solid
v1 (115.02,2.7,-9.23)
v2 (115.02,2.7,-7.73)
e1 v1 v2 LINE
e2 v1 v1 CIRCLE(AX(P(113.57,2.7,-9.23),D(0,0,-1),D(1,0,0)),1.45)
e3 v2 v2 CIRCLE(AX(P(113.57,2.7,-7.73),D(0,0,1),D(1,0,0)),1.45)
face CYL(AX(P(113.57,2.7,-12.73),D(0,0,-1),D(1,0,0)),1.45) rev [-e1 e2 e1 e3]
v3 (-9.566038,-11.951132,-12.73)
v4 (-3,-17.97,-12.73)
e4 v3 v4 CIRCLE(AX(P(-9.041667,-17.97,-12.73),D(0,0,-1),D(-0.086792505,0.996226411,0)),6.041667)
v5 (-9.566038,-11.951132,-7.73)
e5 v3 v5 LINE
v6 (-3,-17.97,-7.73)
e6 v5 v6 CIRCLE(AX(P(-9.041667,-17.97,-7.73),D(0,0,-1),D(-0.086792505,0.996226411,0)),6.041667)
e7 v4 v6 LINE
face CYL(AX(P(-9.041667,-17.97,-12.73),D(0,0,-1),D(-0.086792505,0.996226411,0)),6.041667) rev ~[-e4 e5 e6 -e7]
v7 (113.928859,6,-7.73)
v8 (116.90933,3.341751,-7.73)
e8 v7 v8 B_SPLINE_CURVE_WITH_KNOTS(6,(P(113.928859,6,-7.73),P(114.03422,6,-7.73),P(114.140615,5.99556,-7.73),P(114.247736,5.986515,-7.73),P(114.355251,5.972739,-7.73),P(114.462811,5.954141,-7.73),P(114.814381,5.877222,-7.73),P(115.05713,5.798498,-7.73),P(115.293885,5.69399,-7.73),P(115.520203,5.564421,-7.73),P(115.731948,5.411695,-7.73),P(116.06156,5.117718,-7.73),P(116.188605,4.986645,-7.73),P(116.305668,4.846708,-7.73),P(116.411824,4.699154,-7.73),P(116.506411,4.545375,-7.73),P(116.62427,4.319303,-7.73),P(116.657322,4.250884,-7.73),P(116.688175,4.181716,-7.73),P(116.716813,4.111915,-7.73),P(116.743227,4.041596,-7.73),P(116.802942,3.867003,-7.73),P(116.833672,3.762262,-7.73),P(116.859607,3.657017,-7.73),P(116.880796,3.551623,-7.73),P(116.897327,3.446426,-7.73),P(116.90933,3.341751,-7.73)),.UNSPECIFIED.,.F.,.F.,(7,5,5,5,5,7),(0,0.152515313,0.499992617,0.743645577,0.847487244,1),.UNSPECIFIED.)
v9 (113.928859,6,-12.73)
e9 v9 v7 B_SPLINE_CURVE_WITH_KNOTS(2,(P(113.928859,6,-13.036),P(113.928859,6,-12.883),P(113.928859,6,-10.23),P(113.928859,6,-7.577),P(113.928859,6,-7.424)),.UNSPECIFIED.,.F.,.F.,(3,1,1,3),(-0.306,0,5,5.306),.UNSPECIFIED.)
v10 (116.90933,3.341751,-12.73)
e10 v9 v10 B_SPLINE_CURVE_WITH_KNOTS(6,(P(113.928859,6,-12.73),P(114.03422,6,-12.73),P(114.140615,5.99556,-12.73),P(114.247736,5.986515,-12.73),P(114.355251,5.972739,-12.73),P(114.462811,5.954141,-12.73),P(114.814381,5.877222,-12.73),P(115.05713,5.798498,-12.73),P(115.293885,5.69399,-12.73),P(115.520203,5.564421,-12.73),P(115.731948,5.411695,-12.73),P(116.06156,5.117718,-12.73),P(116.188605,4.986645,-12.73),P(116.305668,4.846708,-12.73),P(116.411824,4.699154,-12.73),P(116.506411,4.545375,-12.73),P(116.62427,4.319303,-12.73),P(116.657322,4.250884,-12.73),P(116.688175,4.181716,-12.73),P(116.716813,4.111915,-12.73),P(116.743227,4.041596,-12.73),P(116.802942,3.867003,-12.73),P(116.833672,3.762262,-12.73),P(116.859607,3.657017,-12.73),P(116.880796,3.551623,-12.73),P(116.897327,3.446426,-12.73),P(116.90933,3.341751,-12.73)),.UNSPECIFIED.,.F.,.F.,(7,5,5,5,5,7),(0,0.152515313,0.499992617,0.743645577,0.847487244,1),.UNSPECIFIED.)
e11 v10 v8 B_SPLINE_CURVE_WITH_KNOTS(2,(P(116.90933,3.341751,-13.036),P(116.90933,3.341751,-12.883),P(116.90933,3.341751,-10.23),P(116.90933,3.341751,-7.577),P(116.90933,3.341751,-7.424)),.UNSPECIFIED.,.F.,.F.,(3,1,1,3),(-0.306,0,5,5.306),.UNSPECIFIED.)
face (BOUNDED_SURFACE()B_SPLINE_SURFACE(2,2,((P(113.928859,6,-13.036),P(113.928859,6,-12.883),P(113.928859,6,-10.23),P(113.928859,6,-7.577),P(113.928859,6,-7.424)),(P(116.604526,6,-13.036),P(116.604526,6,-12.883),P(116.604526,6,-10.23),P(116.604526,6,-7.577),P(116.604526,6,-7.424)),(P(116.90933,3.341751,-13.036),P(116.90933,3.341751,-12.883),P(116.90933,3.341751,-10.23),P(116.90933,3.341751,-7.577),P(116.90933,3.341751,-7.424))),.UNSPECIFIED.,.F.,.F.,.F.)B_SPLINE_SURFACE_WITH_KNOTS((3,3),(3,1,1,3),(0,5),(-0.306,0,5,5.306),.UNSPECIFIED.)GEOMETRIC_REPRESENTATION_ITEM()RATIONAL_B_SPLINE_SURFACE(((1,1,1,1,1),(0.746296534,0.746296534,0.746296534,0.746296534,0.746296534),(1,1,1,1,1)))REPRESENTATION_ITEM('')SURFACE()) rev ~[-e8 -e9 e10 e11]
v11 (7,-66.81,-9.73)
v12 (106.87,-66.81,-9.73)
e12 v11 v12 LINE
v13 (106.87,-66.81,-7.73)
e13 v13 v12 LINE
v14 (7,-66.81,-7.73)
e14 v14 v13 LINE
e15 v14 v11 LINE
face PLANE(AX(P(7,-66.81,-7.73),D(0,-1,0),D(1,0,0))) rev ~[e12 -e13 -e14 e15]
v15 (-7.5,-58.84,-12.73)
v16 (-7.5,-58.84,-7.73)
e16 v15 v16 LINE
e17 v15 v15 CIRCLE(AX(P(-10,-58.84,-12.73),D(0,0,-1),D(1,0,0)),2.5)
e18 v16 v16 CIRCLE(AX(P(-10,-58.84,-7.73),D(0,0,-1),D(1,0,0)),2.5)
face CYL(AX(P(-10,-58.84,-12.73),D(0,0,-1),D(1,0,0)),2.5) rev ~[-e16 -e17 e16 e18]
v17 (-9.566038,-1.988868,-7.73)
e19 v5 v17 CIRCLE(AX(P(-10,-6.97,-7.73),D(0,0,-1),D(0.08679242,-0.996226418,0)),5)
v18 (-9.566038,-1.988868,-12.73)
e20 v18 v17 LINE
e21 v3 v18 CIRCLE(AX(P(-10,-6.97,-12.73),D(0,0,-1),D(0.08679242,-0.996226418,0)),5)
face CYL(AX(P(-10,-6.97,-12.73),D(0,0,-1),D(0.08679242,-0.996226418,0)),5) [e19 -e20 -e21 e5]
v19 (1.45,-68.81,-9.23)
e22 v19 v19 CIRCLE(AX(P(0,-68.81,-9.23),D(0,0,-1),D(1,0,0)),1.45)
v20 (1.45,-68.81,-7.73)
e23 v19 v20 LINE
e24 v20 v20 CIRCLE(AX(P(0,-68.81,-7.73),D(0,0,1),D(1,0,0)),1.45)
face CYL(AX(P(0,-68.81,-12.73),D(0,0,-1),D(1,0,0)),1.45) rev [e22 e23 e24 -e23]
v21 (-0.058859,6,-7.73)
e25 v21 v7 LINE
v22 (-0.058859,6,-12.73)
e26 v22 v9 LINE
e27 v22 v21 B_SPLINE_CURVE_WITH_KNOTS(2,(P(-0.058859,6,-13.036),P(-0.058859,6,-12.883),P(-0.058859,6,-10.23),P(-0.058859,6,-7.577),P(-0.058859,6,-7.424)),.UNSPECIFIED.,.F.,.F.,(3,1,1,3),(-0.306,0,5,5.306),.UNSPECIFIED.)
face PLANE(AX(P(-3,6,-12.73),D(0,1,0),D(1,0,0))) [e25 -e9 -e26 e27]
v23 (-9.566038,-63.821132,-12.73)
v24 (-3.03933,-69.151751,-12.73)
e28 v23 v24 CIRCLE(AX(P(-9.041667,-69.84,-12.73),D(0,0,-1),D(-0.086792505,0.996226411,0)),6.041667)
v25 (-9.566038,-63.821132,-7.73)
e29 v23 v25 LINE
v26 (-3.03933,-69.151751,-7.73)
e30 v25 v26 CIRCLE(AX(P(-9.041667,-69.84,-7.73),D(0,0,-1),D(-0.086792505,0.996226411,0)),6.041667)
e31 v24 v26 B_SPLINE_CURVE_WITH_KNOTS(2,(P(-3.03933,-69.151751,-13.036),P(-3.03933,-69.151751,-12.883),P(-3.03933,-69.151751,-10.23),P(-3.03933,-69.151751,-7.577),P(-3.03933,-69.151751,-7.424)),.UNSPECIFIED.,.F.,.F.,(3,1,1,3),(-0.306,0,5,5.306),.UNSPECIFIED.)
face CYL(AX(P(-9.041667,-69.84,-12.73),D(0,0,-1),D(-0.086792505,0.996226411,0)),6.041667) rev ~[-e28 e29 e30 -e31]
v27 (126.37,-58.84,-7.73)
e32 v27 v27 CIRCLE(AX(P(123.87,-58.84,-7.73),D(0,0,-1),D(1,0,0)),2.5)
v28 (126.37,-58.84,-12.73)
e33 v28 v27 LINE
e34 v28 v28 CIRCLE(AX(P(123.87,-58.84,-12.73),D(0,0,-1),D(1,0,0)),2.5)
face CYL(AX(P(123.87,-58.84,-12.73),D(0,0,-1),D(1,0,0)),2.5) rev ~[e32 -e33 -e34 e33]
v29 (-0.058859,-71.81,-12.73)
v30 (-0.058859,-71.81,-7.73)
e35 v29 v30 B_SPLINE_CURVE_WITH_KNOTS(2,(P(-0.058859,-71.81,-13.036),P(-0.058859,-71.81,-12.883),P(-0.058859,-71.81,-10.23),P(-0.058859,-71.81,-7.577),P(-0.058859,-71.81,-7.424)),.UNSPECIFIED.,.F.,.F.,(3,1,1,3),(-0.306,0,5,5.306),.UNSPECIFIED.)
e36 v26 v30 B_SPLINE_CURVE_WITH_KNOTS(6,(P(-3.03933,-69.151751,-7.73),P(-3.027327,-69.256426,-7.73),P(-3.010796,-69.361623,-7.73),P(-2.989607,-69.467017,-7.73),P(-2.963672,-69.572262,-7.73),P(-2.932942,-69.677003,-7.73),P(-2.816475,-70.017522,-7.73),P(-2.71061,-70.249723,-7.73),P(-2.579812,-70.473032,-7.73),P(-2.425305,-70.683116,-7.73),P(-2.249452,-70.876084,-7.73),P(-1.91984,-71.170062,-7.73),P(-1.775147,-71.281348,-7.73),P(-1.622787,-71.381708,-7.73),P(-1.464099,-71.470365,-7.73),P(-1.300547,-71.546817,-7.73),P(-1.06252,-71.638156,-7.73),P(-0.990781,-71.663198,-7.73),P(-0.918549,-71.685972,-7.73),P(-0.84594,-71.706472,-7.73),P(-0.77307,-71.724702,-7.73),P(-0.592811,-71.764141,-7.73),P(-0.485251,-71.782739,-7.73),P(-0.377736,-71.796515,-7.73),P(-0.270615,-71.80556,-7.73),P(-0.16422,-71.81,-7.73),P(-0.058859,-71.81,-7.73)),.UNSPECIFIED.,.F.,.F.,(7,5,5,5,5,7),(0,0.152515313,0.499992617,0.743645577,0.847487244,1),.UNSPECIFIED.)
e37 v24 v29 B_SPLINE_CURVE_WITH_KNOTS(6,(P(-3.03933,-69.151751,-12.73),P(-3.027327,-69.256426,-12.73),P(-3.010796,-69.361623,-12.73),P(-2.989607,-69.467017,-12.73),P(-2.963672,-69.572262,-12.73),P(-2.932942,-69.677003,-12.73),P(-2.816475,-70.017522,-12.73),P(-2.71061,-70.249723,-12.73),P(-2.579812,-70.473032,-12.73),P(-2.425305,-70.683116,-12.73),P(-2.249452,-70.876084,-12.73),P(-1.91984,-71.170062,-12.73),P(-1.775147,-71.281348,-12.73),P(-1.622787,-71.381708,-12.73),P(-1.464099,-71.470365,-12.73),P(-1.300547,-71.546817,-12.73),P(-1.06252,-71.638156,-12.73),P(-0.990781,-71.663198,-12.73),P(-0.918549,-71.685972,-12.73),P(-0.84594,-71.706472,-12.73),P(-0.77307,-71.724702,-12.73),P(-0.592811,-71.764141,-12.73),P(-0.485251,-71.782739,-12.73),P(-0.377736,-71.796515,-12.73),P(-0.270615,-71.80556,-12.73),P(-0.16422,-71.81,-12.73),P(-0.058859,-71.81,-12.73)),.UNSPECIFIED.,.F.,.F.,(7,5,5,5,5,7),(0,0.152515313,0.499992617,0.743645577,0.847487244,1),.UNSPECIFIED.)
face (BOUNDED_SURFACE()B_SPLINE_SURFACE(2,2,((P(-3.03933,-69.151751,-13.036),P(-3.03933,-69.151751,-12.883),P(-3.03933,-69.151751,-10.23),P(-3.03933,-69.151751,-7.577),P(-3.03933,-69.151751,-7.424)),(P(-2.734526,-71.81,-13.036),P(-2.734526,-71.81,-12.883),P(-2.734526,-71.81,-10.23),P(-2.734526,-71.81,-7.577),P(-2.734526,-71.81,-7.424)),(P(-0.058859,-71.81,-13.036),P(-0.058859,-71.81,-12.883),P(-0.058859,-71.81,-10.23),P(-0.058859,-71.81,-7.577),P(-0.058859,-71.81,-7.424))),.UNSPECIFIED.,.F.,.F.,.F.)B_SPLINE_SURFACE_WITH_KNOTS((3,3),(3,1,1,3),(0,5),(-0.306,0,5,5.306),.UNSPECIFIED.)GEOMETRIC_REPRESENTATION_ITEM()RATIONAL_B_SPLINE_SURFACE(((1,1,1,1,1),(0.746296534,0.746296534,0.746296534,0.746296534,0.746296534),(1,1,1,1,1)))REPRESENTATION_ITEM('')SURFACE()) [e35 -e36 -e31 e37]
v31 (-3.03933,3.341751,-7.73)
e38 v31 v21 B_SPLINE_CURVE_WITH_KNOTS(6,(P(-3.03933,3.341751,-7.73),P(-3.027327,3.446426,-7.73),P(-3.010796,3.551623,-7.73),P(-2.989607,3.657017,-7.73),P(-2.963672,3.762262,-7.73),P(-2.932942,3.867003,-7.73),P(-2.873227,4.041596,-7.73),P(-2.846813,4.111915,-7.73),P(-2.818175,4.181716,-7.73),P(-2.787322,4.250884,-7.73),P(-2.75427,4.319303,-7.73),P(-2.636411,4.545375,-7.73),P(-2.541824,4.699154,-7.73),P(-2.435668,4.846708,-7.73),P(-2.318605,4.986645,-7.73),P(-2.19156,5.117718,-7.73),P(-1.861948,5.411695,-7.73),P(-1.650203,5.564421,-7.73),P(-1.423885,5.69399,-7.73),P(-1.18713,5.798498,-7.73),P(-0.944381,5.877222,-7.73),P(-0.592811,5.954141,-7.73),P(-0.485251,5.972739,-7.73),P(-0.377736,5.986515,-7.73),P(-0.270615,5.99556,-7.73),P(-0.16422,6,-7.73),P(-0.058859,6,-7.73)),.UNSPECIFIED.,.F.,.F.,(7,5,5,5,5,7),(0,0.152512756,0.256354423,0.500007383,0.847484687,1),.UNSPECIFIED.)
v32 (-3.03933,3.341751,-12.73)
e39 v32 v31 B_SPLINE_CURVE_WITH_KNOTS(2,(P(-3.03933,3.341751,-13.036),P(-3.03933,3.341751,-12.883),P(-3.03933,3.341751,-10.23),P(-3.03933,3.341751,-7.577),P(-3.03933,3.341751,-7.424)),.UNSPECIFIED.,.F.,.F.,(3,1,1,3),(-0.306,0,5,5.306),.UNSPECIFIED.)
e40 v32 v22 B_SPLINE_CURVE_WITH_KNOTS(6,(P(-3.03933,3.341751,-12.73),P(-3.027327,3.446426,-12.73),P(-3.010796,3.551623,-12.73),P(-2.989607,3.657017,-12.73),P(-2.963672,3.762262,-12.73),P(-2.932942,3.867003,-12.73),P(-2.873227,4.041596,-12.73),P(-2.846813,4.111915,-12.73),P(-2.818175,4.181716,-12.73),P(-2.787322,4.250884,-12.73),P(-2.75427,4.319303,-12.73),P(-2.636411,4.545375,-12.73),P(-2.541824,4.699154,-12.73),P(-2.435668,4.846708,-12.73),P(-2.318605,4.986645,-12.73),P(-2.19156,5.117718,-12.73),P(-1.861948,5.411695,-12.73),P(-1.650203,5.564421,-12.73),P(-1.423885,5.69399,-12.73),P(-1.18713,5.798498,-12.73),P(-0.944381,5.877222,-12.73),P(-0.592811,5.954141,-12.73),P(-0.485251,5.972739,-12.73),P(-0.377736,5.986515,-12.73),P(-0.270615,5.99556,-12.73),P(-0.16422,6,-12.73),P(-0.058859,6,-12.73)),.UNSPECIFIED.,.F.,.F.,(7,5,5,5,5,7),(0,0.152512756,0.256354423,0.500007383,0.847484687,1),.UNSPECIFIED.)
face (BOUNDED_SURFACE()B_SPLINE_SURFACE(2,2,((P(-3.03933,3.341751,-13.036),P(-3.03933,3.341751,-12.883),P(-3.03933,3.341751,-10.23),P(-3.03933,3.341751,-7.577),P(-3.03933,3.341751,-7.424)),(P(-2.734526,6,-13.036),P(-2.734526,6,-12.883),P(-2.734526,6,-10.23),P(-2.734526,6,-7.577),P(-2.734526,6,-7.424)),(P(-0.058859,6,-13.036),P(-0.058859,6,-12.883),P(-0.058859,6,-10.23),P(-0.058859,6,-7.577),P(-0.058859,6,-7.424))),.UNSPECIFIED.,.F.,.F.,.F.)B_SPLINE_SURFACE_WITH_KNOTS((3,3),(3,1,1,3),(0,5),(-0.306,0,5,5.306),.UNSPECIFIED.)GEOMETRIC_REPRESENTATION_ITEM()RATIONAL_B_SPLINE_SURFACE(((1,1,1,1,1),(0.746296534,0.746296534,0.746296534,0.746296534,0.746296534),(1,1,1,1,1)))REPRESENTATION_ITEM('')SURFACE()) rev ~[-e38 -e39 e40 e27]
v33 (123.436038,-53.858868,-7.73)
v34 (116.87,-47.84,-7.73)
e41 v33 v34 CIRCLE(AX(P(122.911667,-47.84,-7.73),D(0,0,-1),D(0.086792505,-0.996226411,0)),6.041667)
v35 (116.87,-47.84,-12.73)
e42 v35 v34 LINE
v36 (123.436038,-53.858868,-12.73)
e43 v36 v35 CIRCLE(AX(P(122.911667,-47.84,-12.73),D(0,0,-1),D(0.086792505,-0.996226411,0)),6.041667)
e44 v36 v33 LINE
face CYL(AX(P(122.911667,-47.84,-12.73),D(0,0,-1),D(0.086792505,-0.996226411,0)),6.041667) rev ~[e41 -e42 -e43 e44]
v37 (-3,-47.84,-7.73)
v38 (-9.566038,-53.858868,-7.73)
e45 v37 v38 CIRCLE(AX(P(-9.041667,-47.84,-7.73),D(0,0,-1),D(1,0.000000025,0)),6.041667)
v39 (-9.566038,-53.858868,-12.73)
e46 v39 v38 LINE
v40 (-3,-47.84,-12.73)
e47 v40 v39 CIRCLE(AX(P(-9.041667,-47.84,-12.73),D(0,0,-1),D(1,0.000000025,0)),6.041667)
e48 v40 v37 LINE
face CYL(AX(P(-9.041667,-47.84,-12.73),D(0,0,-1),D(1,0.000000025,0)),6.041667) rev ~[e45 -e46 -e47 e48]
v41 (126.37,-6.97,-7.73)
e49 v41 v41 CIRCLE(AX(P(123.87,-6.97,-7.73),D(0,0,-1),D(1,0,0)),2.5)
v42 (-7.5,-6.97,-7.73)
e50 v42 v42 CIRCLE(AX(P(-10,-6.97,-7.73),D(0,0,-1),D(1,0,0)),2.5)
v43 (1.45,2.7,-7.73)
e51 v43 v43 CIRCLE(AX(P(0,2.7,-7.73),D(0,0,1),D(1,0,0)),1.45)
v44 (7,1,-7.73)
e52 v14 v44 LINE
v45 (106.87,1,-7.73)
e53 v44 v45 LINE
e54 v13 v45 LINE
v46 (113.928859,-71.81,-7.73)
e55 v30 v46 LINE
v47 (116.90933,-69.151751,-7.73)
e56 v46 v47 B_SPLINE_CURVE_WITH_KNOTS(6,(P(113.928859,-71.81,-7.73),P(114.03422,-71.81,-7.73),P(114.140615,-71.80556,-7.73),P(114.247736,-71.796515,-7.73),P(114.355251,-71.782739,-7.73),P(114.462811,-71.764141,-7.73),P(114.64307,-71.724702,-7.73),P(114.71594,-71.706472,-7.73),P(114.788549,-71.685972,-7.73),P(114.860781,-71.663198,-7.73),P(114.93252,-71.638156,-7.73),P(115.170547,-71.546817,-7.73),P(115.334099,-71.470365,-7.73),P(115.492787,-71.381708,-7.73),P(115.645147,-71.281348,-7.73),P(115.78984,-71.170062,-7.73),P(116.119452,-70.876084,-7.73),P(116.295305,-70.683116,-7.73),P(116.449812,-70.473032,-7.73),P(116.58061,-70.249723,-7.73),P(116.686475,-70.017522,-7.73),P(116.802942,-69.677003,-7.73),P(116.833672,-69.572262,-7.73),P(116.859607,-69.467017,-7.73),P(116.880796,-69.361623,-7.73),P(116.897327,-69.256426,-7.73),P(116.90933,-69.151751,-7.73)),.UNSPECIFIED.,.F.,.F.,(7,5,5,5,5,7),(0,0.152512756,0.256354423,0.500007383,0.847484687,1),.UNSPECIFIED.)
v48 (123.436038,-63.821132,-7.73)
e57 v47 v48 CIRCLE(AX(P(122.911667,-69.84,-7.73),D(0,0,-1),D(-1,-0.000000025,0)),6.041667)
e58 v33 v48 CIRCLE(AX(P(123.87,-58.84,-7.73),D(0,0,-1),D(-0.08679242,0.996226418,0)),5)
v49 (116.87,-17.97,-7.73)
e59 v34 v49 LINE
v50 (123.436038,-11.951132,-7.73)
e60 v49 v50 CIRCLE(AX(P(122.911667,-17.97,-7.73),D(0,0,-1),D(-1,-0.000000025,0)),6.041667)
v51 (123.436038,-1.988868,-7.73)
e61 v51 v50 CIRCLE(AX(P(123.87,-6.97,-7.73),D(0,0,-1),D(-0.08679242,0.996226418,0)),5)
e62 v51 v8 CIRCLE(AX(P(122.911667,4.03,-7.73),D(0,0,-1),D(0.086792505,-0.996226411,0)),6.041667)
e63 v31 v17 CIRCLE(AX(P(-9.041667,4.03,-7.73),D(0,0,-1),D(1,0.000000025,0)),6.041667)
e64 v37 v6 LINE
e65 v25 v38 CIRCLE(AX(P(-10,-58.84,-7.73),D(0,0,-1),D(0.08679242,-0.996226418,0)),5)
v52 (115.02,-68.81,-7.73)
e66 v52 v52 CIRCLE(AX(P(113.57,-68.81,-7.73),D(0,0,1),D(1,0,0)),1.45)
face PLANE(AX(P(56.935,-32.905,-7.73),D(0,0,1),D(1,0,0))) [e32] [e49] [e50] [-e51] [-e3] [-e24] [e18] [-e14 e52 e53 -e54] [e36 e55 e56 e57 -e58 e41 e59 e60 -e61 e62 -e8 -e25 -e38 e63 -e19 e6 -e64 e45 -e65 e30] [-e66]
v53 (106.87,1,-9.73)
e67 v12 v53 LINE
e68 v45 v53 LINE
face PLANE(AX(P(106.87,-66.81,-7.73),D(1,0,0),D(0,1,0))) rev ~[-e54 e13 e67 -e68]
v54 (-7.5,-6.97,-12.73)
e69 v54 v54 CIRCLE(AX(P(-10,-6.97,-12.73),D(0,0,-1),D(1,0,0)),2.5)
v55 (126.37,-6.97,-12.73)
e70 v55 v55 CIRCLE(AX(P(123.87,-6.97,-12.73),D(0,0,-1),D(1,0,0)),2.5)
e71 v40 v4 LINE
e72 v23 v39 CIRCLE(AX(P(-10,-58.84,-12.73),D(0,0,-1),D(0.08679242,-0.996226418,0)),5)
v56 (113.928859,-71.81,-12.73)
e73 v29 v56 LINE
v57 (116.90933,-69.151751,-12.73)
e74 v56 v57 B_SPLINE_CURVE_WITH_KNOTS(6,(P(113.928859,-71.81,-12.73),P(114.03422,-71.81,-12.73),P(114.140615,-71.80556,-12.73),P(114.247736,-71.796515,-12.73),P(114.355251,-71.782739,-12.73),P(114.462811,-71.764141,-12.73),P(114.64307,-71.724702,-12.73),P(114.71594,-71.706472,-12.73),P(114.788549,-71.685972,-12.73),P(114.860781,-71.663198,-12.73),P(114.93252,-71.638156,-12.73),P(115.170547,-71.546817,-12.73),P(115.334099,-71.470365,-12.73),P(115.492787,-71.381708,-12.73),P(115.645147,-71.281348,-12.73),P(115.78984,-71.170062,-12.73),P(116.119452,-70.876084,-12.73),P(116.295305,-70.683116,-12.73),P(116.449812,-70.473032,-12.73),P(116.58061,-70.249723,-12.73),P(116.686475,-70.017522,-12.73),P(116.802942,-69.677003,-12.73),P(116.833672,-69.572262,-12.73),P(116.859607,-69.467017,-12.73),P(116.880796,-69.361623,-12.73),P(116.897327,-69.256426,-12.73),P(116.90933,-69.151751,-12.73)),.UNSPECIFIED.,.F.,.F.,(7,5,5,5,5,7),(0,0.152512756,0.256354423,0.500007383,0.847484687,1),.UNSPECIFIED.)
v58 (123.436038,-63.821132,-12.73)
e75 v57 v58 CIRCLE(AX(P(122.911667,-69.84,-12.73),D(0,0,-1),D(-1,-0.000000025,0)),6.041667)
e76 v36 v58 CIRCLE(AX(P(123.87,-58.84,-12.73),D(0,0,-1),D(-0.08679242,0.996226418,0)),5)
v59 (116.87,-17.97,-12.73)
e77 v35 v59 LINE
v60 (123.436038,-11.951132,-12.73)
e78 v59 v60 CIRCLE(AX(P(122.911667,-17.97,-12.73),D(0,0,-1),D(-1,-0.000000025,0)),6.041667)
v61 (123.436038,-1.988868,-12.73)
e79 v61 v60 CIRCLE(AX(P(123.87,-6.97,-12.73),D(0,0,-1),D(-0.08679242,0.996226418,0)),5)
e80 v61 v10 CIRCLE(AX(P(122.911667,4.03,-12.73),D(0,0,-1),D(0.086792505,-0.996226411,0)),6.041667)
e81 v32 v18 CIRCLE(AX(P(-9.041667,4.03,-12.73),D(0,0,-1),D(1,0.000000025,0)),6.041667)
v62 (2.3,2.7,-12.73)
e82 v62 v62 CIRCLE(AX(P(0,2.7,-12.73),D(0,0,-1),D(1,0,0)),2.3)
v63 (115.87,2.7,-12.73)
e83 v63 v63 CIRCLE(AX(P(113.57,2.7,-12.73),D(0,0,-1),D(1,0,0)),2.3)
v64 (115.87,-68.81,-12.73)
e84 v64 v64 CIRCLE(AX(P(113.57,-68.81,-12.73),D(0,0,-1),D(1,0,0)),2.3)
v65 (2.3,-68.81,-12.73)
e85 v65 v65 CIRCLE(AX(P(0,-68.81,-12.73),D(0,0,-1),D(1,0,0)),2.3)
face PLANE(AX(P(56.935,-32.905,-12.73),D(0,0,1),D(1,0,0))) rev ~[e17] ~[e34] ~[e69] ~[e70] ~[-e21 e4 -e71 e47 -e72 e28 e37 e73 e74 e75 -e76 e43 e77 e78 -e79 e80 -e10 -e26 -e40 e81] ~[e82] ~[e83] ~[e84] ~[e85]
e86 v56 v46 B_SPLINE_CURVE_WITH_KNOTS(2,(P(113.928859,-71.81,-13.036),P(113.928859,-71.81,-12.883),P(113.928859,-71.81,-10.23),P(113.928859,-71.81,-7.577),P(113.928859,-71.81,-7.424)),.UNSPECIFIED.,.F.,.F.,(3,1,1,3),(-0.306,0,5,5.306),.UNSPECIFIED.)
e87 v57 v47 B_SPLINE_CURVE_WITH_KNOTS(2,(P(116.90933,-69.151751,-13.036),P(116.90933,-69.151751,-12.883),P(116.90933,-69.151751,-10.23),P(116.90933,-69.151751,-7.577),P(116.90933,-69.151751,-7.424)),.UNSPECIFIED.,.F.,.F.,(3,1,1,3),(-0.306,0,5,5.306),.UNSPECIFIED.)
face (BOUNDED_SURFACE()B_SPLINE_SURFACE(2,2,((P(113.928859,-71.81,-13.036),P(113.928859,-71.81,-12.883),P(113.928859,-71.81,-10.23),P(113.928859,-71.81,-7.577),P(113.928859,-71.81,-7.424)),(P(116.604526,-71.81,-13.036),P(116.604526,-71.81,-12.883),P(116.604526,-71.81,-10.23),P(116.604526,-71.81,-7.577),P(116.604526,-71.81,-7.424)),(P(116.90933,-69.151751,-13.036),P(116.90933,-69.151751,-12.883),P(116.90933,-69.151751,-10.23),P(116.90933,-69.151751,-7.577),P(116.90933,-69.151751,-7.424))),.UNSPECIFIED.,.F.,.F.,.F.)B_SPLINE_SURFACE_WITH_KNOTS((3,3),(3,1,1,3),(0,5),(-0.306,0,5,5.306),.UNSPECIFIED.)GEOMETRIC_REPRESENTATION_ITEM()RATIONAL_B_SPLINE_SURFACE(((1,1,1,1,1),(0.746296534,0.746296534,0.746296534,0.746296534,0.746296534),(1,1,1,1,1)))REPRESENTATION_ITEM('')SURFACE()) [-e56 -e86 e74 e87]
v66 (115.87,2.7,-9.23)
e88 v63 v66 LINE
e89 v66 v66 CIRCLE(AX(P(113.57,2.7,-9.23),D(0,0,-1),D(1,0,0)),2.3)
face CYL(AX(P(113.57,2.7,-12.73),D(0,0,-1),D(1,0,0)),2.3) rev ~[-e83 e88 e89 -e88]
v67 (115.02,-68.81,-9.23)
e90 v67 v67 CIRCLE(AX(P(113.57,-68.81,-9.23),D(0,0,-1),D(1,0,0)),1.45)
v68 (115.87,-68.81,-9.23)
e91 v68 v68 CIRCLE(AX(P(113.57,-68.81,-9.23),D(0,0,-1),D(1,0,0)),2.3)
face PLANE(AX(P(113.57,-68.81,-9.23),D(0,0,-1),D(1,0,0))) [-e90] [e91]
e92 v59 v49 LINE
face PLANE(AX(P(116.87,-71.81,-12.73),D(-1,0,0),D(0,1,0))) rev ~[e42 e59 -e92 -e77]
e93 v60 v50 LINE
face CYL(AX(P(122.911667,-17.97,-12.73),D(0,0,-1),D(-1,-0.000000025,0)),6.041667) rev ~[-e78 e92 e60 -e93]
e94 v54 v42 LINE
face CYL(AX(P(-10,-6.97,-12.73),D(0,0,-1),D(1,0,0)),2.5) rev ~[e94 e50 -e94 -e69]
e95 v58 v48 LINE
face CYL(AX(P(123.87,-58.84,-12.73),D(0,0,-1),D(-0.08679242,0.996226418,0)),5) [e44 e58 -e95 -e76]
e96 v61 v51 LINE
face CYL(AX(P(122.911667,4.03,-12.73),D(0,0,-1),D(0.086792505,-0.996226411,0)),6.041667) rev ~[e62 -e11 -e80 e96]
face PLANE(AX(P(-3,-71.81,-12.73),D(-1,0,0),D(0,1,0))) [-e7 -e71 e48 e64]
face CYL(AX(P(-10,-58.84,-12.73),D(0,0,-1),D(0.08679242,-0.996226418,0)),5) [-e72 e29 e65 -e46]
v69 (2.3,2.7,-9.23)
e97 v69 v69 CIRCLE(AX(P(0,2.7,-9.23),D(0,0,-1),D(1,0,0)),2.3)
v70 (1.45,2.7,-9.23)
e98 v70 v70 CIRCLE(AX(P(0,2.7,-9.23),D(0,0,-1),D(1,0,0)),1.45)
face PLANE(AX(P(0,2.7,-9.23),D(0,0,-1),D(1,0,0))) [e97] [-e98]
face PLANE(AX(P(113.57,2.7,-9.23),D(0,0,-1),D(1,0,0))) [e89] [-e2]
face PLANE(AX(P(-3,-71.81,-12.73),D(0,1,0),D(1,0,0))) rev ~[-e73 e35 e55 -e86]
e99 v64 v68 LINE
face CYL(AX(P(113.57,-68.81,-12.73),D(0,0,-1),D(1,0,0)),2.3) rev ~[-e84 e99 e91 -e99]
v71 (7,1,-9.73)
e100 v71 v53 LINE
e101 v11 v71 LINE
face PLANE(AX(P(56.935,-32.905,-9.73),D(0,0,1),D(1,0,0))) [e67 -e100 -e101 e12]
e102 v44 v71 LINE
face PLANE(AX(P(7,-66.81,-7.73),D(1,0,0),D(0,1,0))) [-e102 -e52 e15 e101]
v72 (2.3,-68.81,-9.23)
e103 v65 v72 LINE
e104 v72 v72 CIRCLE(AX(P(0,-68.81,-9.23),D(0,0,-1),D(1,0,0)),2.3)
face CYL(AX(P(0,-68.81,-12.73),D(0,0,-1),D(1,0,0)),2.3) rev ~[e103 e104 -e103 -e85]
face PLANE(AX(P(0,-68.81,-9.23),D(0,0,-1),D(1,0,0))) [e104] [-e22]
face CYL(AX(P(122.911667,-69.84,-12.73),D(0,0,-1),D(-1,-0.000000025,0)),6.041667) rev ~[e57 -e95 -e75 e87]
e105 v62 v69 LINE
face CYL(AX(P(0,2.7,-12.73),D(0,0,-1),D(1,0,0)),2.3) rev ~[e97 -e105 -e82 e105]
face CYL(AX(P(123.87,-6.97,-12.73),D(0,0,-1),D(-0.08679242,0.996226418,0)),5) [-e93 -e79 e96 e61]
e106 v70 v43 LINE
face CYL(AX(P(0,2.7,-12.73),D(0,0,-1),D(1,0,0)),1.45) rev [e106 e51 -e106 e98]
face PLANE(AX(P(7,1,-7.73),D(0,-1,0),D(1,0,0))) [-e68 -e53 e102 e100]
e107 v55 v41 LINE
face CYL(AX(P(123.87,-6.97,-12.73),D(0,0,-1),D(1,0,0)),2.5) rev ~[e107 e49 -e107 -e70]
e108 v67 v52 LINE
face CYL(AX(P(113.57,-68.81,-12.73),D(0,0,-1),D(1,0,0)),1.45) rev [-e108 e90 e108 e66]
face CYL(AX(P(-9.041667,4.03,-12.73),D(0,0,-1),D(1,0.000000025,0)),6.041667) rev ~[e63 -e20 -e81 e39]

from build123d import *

# Parameters (mm, degrees)
SKETCH_W        = 119.87
SKETCH_H        = 77.81
SKETCH_R        = 1.45
PAD_DEPTH       = 5
SKETCH045_R     = 2.5
PAD032_DEPTH    = 5
SKETCH046_R     = 2.3
POCKET_DEPTH    = 3.5
SKETCH051_W     = 99.87
SKETCH051_H     = 67.81
POCKET012_DEPTH = 2
FILLET001_R     = 3


with BuildPart() as part:
    # Sketch → Pad (new body)
    with BuildSketch(Plane.XY):
        with Locations((56.935, -32.905)):
            Rectangle(SKETCH_W, SKETCH_H)
        with Locations((0, -68.81)):
            Circle(SKETCH_R, mode=Mode.SUBTRACT)
        with Locations((113.57, -68.81)):
            Circle(SKETCH_R, mode=Mode.SUBTRACT)
        with Locations((113.57, 2.7)):
            Circle(SKETCH_R, mode=Mode.SUBTRACT)
        with Locations((0, 2.7)):
            Circle(SKETCH_R, mode=Mode.SUBTRACT)
    extrude(amount=PAD_DEPTH)

    # Sketch045 (on Face9 of Pad) → Pad032 (join)
    with BuildSketch(Plane(origin=(0, 0, 0), x_dir=(1, 0, 0), z_dir=(0, 0, -1))):
        with BuildLine():
            ThreePointArc((-9.566038, 63.821132), (-15, 58.84), (-9.566038, 53.858868))
            ThreePointArc((-3, 47.84), (-4.959164, 52.29364), (-9.566038, 53.858868))
            Line((-3, 69.84), (-3, 47.84))
            ThreePointArc((-9.566038, 63.821132), (-4.959164, 65.38636), (-3, 69.84))
        make_face()
        with Locations((-10, 58.84)):
            Circle(SKETCH045_R, mode=Mode.SUBTRACT)
        with BuildLine():
            ThreePointArc((-9.566038, 11.951132), (-15, 6.97), (-9.566038, 1.988868))
            ThreePointArc((-3, -4.03), (-4.959164, 0.42364), (-9.566038, 1.988868))
            Line((-3, 17.97), (-3, -4.03))
            ThreePointArc((-9.566038, 11.951132), (-4.959164, 13.51636), (-3, 17.97))
        make_face()
        with Locations((-10, 6.97)):
            Circle(SKETCH045_R, mode=Mode.SUBTRACT)
        with BuildLine():
            ThreePointArc((123.436038, 1.988868), (128.87, 6.97), (123.436038, 11.951132))
            ThreePointArc((116.87, 17.97), (118.829164, 13.51636), (123.436038, 11.951132))
            Line((116.87, 17.97), (116.87, -4.03))
            ThreePointArc((123.436038, 1.988868), (118.829164, 0.42364), (116.87, -4.03))
        make_face()
        with Locations((123.87, 6.97)):
            Circle(SKETCH045_R, mode=Mode.SUBTRACT)
        with BuildLine():
            ThreePointArc((123.436038, 53.858868), (128.87, 58.84), (123.436038, 63.821132))
            ThreePointArc((116.87, 69.84), (118.829164, 65.38636), (123.436038, 63.821132))
            Line((116.87, 69.84), (116.87, 47.84))
            ThreePointArc((123.436038, 53.858868), (118.829164, 52.29364), (116.87, 47.84))
        make_face()
        with Locations((123.87, 58.84)):
            Circle(SKETCH045_R, mode=Mode.SUBTRACT)
    extrude(amount=-PAD032_DEPTH)

    # Sketch046 (on Face21 of Pad032) → Pocket (cut)
    with BuildSketch(Plane(origin=(0, 0, 0), x_dir=(1, 0, 0), z_dir=(0, 0, -1))):
        with Locations((0, -2.7)):
            Circle(SKETCH046_R)
        with Locations((113.57, -2.7)):
            Circle(SKETCH046_R)
        with Locations((113.57, 68.81)):
            Circle(SKETCH046_R)
        with Locations((0, 68.81)):
            Circle(SKETCH046_R)
    extrude(amount=-POCKET_DEPTH, mode=Mode.SUBTRACT)

    # Sketch051 (on Face4 of Pocket) → Pocket012 (cut)
    with BuildSketch(Plane.XY.offset(5)):
        with Locations((56.935, -32.905)):
            Rectangle(SKETCH051_W, SKETCH051_H)
    extrude(amount=-POCKET012_DEPTH, mode=Mode.SUBTRACT)

    # Fillet001
    fillet001_edges = [part.edges().sort_by_distance(p)[0] for p in [
        (116.87, -71.81, 2.5),
        (-3, -71.81, 2.5),
        (-3, 6, 2.5),
        (116.87, 6, 2.5),
    ]]
    fillet(fillet001_edges, radius=FILLET001_R)


with BuildPart() as part_1:
    # Body placement: moved
    add(part.part.moved(Location((0, 0, -12.73))))


solid = part_1.part
